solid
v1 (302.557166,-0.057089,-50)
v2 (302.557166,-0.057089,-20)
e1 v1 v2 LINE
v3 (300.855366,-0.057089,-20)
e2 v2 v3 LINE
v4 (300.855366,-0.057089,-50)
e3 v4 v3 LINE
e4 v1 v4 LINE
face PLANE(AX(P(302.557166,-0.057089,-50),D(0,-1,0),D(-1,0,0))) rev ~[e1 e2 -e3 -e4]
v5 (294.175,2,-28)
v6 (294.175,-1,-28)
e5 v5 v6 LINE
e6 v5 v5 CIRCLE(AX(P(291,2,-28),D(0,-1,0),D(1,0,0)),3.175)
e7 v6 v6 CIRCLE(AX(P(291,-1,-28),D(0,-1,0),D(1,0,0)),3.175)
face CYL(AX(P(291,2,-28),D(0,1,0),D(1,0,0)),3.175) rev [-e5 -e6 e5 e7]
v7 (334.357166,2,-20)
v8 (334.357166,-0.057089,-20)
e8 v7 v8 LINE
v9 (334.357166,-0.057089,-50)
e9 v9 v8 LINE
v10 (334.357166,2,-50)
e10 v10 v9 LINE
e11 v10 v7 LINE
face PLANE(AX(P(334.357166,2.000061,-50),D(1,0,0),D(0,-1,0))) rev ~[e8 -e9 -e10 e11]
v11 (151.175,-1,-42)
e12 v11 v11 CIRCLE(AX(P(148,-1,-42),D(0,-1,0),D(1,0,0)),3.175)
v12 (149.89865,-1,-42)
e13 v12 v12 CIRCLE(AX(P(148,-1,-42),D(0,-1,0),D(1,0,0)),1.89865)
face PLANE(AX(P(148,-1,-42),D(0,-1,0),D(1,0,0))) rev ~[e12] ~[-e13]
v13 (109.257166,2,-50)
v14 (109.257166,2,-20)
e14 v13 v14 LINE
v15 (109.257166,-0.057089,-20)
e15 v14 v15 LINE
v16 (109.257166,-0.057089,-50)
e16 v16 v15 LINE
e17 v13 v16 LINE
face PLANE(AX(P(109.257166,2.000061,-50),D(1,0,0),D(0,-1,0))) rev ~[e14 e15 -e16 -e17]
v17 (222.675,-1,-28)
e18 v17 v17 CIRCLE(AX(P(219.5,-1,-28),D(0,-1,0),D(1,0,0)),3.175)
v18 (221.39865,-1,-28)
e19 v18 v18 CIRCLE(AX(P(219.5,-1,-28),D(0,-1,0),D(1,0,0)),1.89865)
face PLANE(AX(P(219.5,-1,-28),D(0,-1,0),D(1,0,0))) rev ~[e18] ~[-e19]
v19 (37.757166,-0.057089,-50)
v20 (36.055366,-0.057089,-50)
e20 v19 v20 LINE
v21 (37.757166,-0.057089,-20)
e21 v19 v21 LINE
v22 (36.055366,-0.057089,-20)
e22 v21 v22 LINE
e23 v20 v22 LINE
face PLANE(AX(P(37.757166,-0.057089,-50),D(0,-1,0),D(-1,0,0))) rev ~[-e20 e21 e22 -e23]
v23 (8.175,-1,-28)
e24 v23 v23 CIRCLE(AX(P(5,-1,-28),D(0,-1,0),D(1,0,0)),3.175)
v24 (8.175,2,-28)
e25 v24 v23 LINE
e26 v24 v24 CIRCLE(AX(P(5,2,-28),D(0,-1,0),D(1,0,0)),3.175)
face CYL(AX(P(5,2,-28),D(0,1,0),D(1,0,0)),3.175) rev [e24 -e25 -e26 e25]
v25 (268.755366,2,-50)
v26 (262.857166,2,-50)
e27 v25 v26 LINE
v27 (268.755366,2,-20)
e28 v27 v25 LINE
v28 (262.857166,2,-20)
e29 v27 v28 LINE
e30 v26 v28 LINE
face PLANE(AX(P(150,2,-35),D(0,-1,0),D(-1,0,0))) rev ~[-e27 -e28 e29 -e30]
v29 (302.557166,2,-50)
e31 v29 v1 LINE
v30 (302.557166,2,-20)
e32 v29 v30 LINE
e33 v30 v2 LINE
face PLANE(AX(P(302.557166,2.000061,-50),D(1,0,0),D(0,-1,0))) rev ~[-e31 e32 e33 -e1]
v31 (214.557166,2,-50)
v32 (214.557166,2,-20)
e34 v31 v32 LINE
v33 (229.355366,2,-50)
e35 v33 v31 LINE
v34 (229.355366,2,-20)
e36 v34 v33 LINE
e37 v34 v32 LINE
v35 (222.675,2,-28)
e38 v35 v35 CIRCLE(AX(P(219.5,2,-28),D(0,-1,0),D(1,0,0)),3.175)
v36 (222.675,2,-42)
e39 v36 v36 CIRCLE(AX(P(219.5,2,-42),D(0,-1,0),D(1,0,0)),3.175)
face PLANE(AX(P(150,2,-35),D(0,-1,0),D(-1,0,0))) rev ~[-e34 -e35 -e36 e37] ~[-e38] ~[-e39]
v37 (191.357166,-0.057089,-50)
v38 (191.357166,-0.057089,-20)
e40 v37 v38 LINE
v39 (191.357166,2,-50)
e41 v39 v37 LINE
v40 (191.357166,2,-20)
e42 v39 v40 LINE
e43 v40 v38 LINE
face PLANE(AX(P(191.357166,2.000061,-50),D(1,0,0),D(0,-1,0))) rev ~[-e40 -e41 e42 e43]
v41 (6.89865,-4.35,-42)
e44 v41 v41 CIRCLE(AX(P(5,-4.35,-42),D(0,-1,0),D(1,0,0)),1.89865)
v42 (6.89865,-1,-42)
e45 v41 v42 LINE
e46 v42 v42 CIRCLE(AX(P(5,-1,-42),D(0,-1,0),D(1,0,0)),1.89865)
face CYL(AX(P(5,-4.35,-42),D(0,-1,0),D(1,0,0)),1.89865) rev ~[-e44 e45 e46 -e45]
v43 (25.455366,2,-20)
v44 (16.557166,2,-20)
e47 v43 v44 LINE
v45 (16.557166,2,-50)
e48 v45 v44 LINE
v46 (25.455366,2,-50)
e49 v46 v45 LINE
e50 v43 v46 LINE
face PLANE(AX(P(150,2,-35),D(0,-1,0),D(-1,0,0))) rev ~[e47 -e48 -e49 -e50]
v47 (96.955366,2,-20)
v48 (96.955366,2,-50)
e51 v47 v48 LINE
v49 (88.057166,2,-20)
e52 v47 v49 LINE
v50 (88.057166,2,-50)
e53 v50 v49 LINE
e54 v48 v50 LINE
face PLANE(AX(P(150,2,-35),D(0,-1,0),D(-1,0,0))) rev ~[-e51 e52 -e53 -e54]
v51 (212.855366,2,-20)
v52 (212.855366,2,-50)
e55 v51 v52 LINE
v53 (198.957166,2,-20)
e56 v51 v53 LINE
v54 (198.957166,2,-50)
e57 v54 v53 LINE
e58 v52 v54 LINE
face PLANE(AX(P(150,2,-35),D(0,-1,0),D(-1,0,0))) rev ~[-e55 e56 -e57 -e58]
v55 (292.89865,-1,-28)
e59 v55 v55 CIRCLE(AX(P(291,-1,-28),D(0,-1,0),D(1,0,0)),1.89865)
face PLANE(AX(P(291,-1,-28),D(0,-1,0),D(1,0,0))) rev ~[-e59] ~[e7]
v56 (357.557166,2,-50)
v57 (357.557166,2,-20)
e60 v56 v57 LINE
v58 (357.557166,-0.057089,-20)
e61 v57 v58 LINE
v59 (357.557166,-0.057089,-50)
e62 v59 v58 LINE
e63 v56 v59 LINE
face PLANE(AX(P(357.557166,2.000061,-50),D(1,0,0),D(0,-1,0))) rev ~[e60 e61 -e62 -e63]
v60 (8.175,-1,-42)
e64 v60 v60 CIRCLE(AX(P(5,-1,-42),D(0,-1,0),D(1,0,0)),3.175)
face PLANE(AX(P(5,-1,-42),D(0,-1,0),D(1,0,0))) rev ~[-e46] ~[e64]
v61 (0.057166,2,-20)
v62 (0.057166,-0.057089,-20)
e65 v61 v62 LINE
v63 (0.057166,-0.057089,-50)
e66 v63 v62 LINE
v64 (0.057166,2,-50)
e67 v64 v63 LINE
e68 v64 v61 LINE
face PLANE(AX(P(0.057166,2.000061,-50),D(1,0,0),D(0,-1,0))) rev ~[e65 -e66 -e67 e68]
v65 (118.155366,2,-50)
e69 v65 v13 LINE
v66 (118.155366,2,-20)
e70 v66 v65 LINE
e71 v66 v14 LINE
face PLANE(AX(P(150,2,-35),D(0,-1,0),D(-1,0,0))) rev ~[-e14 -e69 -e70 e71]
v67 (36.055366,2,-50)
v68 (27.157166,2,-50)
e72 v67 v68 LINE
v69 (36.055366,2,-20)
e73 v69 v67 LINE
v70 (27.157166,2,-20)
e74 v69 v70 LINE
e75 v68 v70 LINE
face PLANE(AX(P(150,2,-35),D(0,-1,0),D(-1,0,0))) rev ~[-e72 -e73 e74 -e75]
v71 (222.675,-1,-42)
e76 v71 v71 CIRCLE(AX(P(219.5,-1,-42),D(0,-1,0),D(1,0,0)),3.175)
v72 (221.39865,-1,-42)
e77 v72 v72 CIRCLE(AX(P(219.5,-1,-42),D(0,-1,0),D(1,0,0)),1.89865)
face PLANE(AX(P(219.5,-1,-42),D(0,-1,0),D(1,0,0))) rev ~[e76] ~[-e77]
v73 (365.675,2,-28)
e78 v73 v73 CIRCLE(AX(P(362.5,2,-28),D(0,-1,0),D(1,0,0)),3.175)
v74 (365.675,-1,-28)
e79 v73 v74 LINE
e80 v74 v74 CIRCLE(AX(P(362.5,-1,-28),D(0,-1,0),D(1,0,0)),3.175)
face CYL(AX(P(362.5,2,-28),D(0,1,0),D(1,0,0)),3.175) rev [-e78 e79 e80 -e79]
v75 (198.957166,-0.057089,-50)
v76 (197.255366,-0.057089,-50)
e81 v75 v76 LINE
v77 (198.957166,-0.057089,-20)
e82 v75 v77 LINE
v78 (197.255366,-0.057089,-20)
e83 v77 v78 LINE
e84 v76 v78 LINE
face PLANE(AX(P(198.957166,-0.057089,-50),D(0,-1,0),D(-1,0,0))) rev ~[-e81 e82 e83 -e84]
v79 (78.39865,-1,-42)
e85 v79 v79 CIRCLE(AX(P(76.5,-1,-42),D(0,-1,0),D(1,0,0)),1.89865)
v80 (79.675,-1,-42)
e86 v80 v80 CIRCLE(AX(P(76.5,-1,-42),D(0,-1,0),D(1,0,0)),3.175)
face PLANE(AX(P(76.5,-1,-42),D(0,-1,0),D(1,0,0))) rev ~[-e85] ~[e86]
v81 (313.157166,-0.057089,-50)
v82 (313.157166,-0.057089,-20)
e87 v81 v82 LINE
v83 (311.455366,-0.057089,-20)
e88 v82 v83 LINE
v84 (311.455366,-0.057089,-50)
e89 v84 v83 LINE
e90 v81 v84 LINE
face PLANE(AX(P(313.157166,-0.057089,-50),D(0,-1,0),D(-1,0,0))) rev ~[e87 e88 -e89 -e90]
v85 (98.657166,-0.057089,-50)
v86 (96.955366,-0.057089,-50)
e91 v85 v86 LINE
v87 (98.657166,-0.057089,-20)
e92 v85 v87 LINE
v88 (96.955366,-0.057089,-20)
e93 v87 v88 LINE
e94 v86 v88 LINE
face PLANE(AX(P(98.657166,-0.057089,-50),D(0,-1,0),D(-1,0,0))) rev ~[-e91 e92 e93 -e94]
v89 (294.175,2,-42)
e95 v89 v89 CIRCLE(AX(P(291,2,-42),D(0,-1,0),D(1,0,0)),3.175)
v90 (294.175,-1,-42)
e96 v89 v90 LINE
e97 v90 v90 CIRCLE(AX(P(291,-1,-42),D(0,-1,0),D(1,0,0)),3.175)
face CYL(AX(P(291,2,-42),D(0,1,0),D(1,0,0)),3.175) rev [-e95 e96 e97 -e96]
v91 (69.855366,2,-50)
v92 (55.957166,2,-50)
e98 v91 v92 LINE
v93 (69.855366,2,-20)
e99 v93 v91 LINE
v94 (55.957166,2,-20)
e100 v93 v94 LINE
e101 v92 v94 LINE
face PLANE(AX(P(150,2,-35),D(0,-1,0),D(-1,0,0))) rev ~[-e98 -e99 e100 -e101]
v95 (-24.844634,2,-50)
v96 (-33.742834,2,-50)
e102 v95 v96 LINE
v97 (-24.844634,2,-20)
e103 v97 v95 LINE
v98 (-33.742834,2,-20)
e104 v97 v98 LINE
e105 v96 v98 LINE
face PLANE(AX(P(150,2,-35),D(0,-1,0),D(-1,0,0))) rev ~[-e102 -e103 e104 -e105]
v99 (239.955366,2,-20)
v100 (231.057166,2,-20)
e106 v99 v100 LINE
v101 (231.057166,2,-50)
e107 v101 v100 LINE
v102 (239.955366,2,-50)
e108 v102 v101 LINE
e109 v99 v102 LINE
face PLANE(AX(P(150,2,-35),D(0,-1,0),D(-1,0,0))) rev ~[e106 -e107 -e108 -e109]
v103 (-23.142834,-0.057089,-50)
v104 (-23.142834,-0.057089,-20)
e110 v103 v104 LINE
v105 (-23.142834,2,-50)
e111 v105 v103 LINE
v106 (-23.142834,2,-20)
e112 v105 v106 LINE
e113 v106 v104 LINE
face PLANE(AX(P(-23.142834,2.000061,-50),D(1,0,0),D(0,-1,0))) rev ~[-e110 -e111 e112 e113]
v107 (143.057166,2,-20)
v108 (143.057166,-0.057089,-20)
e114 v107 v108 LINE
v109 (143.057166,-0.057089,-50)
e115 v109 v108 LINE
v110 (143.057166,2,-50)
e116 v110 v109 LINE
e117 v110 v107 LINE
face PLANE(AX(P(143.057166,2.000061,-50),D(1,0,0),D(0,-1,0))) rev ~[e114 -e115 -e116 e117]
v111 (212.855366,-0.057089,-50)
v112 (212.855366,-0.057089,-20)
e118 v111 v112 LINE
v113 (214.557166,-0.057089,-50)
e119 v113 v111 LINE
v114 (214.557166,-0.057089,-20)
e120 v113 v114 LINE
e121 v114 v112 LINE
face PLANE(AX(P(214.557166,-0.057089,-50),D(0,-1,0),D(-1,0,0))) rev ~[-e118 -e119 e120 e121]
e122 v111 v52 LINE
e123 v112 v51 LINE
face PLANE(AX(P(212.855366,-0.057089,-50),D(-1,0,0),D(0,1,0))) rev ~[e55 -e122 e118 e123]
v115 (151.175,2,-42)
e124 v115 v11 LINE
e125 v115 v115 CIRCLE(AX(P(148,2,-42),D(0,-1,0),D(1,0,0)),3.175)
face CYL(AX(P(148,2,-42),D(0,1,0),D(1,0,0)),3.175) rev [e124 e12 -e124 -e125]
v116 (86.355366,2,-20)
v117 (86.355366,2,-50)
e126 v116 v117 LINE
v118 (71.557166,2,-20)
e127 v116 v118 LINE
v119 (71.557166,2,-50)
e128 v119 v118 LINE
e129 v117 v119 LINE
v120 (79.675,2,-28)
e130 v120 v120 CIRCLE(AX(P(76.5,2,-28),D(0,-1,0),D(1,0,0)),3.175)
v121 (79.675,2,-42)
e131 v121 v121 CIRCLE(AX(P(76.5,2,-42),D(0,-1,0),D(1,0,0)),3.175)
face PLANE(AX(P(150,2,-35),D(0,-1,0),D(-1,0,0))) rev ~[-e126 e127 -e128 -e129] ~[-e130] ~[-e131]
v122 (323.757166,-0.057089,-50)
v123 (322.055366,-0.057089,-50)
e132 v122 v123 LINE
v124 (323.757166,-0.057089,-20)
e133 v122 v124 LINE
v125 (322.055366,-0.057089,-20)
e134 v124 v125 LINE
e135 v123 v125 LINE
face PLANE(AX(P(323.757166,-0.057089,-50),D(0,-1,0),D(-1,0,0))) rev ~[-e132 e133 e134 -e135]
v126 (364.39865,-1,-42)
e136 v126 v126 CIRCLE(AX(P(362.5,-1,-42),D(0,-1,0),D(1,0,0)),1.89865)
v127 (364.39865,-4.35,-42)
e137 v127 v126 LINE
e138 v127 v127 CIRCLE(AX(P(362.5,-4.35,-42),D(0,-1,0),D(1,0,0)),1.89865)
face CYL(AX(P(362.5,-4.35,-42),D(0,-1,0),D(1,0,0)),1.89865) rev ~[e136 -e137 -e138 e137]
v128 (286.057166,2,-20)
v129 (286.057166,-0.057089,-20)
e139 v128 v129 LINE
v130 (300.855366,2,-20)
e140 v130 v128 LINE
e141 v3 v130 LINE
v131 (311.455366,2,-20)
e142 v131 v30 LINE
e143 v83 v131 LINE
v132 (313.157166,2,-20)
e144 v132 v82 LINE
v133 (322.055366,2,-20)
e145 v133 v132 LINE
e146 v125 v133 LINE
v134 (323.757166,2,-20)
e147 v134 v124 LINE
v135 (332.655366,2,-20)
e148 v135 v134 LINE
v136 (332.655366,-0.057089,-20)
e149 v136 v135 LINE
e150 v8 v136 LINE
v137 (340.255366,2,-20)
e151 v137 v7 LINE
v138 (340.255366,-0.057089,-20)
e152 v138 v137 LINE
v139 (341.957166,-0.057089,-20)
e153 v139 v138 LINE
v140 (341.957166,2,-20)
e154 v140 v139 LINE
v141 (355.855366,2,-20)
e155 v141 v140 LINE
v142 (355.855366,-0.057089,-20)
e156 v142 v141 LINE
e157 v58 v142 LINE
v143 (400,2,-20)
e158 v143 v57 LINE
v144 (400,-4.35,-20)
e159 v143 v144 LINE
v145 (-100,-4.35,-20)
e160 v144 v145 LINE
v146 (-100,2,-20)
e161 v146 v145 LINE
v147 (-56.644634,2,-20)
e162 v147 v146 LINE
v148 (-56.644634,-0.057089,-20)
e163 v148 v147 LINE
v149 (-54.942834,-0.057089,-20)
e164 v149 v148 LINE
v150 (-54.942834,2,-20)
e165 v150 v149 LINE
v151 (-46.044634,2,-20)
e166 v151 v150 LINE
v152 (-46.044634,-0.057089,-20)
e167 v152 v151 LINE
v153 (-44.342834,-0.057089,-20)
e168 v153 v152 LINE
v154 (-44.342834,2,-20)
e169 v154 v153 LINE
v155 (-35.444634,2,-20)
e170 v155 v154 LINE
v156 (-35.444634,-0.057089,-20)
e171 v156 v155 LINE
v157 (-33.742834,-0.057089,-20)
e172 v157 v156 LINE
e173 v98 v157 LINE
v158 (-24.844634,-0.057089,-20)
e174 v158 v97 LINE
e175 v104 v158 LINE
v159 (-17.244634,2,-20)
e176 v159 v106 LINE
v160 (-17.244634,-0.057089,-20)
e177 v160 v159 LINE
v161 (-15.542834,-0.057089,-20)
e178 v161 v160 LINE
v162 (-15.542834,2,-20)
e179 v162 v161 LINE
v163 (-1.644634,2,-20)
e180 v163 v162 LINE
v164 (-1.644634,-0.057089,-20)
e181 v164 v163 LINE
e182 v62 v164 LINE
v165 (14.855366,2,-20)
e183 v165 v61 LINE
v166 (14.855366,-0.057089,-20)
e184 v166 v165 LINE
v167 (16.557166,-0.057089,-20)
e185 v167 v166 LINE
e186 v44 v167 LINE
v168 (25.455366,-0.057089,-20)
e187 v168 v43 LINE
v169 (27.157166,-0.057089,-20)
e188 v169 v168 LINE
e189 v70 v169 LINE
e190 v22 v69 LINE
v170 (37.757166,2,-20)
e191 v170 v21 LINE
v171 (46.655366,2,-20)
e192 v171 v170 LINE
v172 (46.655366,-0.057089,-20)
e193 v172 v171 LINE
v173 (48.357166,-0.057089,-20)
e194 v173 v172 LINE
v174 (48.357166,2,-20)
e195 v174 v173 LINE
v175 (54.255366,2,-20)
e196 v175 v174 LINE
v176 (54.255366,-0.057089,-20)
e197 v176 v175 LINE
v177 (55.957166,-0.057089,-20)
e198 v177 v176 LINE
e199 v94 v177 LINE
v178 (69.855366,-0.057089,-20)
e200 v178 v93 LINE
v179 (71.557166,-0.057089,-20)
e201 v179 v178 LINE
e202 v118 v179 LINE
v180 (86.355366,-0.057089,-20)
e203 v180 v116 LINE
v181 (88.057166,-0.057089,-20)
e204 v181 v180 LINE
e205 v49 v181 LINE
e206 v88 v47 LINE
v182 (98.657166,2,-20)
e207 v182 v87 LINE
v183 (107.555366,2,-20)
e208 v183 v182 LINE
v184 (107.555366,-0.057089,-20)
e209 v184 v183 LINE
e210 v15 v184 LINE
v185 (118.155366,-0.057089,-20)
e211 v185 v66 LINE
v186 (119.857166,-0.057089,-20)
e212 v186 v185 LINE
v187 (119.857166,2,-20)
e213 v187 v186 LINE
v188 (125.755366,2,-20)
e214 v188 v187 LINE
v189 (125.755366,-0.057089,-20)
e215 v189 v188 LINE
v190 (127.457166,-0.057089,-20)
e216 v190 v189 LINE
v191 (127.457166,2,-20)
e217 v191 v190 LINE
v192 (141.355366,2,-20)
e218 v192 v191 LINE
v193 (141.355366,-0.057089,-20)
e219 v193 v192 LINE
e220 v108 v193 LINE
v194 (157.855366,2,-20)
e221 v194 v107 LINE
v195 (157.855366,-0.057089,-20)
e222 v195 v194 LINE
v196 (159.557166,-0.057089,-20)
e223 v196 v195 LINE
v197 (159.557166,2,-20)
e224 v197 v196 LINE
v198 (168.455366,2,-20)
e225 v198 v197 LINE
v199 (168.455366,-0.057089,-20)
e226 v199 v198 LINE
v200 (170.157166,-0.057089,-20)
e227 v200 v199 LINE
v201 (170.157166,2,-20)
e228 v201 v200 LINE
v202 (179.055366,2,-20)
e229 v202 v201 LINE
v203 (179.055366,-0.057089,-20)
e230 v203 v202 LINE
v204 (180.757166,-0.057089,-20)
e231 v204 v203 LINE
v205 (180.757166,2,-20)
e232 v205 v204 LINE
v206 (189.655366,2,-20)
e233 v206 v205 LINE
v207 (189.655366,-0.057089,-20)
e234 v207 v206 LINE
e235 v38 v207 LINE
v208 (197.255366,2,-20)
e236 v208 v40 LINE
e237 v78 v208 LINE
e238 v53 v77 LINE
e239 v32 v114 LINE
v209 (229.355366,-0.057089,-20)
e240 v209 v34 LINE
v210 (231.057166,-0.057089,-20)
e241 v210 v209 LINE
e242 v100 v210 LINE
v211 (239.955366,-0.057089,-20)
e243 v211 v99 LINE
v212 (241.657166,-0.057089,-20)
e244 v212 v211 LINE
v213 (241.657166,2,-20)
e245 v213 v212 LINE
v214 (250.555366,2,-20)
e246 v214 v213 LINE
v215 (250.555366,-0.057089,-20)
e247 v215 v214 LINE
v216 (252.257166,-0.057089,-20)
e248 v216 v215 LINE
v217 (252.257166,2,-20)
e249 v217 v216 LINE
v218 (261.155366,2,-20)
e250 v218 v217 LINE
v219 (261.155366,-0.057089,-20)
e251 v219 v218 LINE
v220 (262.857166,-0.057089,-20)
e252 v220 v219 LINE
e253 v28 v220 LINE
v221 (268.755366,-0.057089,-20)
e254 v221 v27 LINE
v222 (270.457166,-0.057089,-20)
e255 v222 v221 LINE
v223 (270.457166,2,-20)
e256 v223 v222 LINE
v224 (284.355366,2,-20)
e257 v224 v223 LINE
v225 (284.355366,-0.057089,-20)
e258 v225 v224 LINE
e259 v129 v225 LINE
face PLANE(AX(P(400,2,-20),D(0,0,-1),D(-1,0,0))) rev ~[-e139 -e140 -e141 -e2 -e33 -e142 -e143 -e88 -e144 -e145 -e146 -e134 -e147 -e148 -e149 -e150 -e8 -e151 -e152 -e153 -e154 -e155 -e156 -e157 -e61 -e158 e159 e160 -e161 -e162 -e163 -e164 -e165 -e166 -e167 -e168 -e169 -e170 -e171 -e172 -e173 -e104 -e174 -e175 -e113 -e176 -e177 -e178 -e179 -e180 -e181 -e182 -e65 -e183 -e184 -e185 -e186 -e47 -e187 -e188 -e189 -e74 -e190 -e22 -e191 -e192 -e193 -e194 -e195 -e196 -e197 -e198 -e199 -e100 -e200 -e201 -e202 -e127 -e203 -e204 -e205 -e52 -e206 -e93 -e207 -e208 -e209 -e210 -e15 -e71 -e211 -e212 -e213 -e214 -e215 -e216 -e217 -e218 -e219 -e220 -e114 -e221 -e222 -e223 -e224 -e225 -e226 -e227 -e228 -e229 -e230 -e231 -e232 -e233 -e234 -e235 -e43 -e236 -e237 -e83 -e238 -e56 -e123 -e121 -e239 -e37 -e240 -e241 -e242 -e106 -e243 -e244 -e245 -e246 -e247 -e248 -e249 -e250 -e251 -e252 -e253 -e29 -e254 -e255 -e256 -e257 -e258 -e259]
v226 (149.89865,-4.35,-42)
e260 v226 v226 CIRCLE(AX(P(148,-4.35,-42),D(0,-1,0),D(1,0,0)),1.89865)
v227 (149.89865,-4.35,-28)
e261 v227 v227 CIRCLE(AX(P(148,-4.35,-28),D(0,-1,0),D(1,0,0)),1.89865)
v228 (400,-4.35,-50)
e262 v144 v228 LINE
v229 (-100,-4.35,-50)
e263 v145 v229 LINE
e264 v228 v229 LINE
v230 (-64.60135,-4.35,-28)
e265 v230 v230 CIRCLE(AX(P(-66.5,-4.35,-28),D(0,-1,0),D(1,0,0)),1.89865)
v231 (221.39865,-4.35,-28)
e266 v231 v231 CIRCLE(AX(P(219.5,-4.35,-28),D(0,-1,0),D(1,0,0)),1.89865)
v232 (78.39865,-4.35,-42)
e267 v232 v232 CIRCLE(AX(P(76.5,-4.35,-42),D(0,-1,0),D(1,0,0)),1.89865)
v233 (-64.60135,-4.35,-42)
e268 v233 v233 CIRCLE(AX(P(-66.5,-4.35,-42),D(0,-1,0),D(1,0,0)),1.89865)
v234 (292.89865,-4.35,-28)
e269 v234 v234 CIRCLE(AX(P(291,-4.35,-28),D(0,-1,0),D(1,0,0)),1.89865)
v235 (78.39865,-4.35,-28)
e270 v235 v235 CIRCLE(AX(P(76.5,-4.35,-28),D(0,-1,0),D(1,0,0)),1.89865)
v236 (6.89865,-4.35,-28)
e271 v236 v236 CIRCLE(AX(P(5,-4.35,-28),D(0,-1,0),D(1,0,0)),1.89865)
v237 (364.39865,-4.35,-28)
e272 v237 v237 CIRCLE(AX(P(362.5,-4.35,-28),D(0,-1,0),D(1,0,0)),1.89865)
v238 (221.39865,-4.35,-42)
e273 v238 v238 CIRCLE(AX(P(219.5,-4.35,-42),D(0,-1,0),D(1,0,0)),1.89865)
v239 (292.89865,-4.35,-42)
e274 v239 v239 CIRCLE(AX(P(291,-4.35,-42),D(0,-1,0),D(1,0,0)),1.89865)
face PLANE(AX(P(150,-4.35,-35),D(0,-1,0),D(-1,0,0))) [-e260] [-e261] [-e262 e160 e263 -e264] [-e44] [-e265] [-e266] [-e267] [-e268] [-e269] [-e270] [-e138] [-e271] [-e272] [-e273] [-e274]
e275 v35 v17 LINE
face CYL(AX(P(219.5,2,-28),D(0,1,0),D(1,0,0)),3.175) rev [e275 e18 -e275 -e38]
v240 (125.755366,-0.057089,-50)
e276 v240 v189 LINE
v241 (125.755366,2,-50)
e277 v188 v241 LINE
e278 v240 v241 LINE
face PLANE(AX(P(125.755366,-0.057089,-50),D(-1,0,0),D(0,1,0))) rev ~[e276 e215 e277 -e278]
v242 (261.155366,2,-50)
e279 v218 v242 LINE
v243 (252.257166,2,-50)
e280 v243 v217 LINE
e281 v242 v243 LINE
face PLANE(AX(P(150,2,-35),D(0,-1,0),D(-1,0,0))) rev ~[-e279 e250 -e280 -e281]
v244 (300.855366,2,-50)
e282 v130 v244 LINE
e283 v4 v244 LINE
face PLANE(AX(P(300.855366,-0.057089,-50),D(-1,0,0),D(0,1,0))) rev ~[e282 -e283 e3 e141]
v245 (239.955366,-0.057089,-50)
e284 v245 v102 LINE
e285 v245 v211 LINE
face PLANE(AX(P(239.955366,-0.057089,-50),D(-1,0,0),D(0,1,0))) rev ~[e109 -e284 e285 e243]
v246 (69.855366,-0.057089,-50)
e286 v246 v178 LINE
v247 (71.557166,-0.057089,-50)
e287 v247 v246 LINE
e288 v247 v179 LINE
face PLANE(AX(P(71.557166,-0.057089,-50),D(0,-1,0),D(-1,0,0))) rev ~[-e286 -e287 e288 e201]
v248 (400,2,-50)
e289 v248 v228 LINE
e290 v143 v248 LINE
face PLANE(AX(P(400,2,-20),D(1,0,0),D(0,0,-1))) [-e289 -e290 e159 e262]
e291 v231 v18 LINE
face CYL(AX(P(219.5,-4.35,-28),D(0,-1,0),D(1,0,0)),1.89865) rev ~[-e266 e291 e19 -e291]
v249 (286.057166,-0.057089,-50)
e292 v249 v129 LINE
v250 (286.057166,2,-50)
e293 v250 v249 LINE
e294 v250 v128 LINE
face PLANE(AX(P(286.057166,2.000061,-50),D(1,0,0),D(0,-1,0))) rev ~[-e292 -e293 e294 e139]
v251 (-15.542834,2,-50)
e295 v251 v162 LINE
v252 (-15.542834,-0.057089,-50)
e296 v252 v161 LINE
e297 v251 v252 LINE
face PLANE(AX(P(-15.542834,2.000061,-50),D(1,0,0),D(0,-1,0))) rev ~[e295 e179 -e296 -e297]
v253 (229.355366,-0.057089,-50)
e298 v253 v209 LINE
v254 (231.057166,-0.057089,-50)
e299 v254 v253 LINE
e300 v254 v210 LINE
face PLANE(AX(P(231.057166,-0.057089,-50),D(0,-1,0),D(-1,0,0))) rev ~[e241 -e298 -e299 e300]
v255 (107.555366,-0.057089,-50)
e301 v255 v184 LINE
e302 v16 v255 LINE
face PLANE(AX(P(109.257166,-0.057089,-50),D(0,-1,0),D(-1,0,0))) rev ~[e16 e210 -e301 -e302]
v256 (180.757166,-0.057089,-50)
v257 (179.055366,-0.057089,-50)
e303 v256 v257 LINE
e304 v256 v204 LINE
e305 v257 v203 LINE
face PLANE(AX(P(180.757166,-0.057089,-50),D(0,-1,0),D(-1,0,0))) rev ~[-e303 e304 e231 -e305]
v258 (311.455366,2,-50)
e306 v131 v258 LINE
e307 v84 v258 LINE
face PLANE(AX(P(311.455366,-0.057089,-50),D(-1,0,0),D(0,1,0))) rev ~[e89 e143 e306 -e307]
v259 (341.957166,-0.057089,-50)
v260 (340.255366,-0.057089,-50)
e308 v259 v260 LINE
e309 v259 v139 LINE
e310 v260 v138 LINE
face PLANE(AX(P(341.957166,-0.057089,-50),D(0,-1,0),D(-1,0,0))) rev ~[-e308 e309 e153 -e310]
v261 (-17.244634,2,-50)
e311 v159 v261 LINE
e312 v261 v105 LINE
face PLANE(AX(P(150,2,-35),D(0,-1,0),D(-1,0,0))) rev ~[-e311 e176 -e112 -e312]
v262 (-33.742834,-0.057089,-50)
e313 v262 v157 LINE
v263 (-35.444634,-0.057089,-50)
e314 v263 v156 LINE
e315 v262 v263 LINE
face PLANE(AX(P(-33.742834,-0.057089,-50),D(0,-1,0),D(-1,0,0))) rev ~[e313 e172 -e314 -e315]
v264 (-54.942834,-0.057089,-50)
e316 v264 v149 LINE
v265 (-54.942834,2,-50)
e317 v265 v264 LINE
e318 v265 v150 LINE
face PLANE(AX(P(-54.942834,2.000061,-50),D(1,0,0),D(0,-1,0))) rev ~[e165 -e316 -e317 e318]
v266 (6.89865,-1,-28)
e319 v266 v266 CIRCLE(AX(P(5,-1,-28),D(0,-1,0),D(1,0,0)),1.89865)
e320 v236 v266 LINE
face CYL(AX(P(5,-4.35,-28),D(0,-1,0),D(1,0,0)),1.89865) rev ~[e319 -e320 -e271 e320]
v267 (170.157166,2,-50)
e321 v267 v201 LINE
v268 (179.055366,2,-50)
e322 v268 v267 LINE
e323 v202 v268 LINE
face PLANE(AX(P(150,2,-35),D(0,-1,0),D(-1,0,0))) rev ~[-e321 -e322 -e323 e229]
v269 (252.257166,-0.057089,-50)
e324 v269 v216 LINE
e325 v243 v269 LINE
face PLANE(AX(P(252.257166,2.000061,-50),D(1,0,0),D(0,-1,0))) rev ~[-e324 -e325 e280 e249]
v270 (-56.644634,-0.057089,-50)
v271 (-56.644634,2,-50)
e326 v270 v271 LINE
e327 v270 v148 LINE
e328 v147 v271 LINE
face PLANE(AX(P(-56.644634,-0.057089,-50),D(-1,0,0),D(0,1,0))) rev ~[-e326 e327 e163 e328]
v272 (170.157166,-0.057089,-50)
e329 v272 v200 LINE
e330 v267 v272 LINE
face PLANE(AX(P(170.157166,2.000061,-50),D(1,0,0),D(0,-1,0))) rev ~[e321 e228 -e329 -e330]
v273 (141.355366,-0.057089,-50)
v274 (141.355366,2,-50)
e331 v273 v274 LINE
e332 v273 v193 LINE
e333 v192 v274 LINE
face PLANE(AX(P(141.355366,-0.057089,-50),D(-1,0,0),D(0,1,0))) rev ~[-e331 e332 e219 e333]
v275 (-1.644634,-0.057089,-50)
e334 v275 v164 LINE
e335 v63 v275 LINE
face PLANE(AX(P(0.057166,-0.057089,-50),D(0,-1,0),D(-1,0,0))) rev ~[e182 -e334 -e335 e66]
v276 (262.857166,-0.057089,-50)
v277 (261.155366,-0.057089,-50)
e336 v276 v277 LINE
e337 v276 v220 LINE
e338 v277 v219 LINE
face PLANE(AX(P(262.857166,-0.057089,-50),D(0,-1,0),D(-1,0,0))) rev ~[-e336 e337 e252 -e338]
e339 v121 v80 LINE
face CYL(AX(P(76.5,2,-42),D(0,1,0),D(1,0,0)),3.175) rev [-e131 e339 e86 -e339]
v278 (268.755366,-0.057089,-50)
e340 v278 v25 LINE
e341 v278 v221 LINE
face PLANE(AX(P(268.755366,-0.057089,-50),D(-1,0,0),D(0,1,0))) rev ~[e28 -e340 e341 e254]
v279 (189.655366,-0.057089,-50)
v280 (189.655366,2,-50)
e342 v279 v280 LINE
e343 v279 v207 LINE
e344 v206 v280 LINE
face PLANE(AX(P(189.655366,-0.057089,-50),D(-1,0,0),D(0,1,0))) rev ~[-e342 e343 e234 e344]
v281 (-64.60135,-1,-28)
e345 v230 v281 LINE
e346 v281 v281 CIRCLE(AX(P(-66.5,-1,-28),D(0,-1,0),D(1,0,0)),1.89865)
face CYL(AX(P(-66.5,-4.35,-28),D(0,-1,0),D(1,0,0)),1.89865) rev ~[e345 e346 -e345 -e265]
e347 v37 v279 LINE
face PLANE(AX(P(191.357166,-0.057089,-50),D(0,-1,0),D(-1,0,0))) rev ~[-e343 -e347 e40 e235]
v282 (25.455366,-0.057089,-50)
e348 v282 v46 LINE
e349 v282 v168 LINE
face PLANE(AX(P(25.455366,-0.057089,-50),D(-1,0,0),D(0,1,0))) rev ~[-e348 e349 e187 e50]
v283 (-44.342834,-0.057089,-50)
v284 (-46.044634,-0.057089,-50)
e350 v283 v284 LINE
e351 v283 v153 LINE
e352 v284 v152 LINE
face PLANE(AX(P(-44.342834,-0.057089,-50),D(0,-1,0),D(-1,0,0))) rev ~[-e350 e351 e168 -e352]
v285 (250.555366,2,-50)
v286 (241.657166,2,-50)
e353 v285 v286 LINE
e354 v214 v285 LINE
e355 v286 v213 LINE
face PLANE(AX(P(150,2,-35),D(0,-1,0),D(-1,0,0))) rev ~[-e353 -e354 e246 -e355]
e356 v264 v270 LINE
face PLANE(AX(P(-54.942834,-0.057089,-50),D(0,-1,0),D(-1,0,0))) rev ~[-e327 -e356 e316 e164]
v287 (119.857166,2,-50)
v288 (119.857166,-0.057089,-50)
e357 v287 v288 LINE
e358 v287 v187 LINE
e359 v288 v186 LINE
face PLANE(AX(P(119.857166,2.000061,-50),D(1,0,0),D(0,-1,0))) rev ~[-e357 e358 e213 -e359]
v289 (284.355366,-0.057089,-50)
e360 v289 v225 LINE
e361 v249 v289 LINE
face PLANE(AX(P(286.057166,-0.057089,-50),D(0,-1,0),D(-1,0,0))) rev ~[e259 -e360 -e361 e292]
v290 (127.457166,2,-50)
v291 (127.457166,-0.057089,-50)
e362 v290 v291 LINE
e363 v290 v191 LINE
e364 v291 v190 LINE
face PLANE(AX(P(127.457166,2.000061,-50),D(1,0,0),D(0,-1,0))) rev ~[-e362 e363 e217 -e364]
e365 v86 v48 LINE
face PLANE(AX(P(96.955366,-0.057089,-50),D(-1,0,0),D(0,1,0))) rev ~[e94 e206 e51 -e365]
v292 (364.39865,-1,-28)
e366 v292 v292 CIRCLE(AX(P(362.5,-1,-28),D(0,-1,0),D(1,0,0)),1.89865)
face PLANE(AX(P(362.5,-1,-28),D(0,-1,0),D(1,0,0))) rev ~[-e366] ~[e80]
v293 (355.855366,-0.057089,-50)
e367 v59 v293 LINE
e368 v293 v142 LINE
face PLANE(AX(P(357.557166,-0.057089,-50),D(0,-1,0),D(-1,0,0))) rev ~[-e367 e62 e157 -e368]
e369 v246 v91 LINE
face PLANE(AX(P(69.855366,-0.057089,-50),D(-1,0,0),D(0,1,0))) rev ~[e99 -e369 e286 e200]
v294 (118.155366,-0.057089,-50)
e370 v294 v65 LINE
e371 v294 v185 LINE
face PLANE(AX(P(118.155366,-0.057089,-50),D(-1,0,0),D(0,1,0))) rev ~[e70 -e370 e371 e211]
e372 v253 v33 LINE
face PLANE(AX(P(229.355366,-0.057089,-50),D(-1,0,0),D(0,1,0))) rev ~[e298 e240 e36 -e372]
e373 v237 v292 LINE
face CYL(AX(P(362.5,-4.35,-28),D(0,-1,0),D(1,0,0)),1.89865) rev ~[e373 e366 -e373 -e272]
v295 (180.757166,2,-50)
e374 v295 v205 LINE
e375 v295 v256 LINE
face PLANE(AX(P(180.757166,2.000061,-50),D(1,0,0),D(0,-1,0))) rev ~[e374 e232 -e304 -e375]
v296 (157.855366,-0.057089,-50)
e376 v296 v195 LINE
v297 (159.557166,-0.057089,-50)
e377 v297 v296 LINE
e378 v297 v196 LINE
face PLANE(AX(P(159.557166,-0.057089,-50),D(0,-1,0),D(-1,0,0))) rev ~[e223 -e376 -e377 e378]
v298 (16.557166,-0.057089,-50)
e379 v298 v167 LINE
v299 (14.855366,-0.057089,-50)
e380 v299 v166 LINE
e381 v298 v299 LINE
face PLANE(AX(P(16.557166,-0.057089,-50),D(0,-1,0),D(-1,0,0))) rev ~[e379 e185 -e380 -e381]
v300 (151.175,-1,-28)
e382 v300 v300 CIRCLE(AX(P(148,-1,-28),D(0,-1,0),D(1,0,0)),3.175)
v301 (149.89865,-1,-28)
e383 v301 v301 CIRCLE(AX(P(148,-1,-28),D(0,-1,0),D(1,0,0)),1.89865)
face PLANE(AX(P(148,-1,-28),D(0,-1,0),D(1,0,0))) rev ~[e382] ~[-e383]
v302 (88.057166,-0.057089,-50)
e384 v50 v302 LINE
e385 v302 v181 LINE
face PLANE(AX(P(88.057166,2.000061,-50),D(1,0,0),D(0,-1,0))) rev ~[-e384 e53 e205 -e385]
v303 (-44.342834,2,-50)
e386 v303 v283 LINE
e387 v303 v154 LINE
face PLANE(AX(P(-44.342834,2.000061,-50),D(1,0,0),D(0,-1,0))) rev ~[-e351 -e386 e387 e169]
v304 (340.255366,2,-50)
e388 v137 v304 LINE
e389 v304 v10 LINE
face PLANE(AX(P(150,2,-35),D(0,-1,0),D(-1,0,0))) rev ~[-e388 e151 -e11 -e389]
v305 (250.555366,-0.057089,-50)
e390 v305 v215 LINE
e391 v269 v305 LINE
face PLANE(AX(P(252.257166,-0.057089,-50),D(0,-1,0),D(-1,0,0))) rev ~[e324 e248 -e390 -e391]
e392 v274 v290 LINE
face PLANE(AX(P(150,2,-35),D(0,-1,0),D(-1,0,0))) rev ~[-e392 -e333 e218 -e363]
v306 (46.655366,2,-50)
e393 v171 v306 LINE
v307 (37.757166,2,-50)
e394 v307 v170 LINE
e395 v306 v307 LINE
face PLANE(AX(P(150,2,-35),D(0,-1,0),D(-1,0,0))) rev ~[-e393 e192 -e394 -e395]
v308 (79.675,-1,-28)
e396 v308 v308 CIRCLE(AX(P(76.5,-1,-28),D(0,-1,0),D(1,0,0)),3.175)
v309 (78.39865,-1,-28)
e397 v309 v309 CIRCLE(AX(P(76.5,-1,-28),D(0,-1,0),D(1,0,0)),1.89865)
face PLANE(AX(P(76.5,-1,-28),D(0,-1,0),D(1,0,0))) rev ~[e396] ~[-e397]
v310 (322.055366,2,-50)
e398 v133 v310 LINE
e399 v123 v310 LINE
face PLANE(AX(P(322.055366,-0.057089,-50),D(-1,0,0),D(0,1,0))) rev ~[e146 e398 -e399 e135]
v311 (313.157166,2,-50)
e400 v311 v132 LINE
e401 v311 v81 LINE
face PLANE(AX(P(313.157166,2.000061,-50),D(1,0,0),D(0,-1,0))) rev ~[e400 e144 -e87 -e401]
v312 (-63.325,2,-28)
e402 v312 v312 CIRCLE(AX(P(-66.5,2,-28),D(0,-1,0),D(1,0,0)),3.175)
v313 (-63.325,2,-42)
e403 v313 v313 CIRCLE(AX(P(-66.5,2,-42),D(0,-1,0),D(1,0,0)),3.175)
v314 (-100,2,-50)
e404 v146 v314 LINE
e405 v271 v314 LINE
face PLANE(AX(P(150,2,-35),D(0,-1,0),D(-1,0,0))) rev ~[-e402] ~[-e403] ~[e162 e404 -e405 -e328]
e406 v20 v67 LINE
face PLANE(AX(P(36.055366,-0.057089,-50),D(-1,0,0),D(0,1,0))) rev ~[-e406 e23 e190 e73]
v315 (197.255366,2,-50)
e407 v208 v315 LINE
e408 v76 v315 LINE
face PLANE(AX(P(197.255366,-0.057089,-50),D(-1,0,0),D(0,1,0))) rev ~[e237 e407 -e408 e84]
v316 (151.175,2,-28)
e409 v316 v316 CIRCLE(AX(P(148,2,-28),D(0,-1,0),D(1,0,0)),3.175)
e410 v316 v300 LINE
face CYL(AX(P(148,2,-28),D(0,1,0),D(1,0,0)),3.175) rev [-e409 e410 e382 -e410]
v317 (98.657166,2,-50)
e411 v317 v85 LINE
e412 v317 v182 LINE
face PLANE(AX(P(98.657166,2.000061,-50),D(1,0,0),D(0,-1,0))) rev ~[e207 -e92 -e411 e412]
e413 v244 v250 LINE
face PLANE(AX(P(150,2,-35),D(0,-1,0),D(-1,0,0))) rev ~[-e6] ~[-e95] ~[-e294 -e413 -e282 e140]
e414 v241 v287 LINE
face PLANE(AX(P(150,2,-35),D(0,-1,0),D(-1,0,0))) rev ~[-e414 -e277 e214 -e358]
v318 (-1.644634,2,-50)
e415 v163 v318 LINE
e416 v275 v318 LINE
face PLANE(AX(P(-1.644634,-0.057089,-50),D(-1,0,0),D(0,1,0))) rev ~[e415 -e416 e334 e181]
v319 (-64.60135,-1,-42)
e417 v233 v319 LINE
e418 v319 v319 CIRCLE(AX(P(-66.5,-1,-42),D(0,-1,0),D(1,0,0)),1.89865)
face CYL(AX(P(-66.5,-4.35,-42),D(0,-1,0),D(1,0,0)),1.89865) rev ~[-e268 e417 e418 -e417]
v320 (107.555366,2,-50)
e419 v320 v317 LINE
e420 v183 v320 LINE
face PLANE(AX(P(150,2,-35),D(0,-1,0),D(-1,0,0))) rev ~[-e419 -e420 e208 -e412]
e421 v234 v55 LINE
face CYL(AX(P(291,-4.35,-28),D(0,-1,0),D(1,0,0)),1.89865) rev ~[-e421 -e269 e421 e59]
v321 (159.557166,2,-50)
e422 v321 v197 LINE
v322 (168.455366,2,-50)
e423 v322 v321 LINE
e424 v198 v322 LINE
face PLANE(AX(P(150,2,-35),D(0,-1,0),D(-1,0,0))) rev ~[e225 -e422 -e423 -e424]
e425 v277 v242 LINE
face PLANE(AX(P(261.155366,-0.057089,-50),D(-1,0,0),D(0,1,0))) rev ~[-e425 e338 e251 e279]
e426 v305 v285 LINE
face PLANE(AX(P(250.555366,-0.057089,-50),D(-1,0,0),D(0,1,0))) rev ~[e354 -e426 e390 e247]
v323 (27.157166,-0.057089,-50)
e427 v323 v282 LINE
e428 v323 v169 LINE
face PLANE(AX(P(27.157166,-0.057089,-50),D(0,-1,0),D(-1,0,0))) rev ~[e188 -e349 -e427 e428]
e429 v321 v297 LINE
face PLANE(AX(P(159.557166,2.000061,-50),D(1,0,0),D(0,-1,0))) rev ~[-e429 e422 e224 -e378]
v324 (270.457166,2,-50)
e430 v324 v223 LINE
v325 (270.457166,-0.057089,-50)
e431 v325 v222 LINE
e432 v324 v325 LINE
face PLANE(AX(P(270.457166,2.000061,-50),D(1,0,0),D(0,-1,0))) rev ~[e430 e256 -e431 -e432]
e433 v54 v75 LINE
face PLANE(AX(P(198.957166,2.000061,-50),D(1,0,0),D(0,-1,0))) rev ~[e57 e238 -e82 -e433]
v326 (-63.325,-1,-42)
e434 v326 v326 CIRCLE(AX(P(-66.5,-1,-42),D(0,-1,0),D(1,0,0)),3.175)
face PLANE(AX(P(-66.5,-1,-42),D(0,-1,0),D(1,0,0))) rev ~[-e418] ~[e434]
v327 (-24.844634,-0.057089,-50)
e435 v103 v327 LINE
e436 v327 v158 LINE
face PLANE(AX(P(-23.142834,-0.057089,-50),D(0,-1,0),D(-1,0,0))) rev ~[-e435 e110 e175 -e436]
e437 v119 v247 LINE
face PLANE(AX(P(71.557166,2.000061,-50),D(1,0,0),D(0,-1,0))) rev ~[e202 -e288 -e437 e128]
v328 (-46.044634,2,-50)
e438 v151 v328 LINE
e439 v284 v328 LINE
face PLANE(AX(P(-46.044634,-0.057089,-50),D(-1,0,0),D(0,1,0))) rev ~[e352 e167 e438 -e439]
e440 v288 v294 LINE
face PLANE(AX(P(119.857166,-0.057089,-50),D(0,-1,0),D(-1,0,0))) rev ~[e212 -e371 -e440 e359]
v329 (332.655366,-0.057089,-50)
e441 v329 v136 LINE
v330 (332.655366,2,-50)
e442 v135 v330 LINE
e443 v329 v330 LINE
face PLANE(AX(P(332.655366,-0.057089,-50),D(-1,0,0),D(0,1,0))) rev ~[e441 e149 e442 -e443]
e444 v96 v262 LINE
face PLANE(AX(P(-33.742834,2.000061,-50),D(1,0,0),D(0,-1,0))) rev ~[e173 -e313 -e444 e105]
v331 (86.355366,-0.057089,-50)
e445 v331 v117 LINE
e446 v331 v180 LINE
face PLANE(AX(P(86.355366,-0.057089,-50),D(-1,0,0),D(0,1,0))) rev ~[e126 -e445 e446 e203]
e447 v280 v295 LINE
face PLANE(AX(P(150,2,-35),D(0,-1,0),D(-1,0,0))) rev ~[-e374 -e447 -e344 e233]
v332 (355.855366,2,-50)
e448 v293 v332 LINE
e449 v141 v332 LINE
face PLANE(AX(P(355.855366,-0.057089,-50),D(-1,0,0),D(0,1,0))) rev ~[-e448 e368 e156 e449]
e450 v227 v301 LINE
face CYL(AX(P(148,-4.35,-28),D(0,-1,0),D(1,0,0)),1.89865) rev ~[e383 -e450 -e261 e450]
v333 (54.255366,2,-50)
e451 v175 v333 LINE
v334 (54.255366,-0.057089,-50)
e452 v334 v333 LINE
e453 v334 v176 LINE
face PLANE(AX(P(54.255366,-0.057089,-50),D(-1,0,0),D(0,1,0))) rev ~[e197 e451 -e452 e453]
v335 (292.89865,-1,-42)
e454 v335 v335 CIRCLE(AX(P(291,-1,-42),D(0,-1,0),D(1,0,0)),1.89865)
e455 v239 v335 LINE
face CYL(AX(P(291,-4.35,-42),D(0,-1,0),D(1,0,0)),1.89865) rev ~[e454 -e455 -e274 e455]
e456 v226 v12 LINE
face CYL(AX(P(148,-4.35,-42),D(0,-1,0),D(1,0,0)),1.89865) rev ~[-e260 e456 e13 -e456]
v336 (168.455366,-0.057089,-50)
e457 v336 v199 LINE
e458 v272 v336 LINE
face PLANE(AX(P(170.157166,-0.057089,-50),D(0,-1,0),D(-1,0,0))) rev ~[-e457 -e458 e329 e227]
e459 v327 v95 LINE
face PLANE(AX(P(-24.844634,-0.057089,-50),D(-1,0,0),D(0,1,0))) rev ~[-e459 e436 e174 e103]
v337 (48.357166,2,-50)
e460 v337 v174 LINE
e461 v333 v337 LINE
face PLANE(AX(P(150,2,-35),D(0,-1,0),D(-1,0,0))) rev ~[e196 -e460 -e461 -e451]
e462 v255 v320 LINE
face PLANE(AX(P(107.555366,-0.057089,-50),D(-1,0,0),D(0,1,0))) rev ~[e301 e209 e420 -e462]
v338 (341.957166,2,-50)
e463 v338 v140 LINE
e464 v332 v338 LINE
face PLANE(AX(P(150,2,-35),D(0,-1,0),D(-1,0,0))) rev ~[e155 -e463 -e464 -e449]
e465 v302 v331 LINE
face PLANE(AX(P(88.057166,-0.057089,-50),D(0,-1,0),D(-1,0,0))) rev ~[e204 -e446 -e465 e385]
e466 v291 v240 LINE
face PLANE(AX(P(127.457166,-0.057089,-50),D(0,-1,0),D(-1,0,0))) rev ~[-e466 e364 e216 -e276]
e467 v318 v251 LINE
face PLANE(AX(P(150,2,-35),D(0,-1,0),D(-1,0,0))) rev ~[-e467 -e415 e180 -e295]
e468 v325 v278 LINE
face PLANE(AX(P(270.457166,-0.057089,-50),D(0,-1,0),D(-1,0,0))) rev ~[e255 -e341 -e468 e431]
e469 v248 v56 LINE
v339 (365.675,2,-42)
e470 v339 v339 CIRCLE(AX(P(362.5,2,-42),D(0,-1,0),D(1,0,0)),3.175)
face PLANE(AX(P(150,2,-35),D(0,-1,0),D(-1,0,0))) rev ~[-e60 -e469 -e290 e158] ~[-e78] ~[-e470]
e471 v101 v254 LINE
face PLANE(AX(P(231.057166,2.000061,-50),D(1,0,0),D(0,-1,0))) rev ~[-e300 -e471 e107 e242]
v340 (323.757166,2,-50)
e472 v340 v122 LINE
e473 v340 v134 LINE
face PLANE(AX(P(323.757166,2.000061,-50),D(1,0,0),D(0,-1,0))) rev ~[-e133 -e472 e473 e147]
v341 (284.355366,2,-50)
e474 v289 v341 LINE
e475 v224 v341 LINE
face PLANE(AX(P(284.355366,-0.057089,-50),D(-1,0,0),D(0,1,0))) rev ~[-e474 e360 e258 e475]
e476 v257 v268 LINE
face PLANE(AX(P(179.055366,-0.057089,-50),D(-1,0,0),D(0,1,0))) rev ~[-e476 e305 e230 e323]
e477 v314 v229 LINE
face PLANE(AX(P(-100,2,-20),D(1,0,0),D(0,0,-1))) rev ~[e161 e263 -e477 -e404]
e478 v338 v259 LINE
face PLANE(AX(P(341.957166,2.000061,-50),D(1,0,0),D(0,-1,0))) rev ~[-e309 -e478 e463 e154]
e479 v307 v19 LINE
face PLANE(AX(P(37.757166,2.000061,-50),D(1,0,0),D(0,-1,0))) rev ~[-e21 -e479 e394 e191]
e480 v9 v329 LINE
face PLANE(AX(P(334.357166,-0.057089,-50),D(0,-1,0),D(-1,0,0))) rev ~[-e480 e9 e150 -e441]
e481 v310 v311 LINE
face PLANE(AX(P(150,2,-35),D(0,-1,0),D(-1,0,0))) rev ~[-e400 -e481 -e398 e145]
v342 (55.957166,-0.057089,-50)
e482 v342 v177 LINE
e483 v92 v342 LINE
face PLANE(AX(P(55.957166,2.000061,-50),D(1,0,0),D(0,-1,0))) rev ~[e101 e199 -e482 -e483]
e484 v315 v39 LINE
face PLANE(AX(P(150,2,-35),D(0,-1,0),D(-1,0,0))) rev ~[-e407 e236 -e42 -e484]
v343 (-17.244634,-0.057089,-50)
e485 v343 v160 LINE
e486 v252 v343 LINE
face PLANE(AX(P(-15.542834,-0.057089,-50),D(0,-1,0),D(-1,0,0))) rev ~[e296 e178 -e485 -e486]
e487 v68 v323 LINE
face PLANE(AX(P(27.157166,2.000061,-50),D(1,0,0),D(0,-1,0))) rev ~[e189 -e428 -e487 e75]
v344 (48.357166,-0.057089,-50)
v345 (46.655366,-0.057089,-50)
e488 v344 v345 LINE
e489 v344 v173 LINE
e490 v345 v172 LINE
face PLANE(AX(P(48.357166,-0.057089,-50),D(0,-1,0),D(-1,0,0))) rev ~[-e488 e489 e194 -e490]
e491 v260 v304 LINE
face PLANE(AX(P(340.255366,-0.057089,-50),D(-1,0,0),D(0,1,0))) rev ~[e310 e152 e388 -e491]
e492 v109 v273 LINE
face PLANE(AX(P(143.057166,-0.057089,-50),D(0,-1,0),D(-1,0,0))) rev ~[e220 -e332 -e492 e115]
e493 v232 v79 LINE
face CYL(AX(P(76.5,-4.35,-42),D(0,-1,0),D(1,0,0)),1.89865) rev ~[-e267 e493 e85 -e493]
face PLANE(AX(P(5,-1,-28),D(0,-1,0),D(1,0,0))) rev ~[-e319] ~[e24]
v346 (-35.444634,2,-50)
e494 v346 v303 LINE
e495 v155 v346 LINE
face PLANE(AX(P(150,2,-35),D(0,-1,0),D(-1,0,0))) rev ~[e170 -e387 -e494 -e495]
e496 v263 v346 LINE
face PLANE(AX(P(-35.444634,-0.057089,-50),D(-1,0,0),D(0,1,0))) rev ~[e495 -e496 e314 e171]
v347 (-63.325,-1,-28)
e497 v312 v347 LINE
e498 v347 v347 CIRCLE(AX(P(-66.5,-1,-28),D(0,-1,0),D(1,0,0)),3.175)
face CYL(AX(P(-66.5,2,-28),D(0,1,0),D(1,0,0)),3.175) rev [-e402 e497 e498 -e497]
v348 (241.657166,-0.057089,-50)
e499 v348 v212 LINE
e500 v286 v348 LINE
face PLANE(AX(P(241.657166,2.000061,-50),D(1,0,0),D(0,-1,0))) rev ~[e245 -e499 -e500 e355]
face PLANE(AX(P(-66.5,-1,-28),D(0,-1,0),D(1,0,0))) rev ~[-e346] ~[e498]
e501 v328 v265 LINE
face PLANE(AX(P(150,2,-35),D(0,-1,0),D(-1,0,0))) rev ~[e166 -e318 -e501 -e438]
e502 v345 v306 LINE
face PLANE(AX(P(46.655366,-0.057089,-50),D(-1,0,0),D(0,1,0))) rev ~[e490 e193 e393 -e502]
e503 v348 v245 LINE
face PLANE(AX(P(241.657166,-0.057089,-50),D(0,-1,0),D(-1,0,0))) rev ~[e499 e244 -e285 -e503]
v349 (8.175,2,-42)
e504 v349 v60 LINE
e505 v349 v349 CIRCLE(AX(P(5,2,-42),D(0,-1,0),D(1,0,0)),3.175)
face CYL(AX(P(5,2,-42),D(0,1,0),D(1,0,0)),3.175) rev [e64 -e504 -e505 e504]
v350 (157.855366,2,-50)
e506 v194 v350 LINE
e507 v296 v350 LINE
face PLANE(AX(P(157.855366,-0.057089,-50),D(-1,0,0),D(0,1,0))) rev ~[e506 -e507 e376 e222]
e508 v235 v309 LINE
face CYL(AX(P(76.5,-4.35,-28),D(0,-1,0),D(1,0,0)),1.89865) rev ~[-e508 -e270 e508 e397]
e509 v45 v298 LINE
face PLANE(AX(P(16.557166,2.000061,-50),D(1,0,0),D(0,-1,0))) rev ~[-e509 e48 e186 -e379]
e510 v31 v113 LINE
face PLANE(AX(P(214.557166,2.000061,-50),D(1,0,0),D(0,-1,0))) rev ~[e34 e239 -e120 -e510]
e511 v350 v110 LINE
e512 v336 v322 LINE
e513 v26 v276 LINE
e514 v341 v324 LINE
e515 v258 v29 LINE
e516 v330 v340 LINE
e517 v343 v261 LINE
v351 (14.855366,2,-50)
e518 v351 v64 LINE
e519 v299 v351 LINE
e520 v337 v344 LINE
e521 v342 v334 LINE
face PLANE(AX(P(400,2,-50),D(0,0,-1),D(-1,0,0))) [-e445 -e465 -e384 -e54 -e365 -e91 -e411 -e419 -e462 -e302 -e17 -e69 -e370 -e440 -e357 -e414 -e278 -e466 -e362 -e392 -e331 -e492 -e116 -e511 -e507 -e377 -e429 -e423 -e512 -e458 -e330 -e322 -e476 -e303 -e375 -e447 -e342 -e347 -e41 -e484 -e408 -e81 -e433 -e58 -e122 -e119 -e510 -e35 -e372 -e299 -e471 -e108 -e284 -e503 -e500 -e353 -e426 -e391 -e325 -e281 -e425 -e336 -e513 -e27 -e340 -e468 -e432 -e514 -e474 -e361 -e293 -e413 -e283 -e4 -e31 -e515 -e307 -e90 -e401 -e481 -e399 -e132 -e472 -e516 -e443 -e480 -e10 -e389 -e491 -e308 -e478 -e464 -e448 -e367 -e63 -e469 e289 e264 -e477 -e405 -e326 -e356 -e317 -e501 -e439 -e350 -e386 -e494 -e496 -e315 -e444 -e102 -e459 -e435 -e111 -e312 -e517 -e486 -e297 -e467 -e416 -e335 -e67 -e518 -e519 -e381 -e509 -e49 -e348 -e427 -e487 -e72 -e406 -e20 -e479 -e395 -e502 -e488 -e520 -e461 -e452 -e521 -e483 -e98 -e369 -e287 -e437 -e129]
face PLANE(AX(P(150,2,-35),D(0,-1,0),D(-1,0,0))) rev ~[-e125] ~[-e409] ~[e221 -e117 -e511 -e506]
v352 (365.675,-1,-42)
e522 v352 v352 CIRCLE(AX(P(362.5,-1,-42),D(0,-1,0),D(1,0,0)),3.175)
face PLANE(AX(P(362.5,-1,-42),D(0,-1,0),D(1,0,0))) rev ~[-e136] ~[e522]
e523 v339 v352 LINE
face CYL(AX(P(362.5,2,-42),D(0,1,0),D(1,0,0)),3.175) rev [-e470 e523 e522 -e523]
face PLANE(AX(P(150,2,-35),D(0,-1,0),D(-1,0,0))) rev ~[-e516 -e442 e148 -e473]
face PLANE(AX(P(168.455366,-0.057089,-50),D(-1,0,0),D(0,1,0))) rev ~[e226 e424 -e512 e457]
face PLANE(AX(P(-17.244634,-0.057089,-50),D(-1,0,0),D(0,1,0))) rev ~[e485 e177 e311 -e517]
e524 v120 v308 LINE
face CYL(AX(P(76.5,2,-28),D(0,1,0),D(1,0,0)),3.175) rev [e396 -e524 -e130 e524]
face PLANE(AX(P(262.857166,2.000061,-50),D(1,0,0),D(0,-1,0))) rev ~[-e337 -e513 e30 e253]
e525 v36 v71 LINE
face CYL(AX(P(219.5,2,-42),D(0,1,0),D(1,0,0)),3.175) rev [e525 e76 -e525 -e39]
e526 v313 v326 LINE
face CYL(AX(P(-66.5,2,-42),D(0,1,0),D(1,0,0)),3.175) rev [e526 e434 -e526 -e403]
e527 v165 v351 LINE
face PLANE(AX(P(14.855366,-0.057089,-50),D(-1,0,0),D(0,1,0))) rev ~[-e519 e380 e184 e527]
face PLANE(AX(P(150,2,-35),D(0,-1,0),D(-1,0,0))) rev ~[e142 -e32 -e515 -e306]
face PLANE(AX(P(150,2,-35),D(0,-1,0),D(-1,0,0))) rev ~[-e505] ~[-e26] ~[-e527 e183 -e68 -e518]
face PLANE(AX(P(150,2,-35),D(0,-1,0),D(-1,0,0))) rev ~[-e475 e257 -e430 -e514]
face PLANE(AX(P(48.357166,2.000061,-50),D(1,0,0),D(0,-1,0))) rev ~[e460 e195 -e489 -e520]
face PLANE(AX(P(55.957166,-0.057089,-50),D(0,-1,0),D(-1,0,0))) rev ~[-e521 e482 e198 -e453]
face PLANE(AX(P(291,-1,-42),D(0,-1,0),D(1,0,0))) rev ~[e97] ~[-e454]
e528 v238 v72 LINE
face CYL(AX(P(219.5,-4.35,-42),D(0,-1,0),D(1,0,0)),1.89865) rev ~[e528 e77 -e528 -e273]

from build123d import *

# Parameters (mm, degrees)
SKETCH1_W           = 500
SKETCH1_H           = 30
BOSS_EXTRUDE1_DEPTH = 6.35
SKETCH2_R           = 3.175
CUT_EXTRUDE1_DEPTH  = 3
CUT_EXTRUDE2_DEPTH  = 402.147008589
SKETCH6_R           = 1.89865
CUT_EXTRUDE3_DEPTH  = 404.162898219


with BuildPart() as part:
    # Sketch1 → Boss-Extrude1 (new body)
    with BuildSketch(Plane(origin=(0, 2, 0), x_dir=(-1, 0, 0), z_dir=(0, -1, 0))):
        with Locations((-150, 35)):
            Rectangle(SKETCH1_W, SKETCH1_H)
    extrude(amount=BOSS_EXTRUDE1_DEPTH)

    # Sketch2 → Cut-Extrude1 (cut)
    with BuildSketch(Plane.XZ.offset(-2)):
        with Locations((5, -28)):
            Circle(SKETCH2_R)
        with Locations((-66.5, -42)):
            Circle(SKETCH2_R)
        with Locations((-66.5, -28)):
            Circle(SKETCH2_R)
        with Locations((5, -42)):
            Circle(SKETCH2_R)
        with Locations((76.5, -28)):
            Circle(SKETCH2_R)
        with Locations((76.5, -42)):
            Circle(SKETCH2_R)
        with Locations((148, -28)):
            Circle(SKETCH2_R)
        with Locations((148, -42)):
            Circle(SKETCH2_R)
        with Locations((219.5, -28)):
            Circle(SKETCH2_R)
        with Locations((219.5, -42)):
            Circle(SKETCH2_R)
        with Locations((291, -28)):
            Circle(SKETCH2_R)
        with Locations((291, -42)):
            Circle(SKETCH2_R)
        with Locations((362.5, -28)):
            Circle(SKETCH2_R)
        with Locations((362.5, -42)):
            Circle(SKETCH2_R)
    extrude(amount=CUT_EXTRUDE1_DEPTH, mode=Mode.SUBTRACT)

    # Sketch5 → Cut-Extrude2 (cut, through all)
    with BuildSketch(Plane(origin=(0, 0, -50), x_dir=(-1, 0, 0), z_dir=(0, 0, -1))):
        Polygon((-1.574705718, 2.00006084), (-0.057166038, 2.00006084), (-0.057166038, -0.05708916), (1.644633962, -0.05708916), (1.644633962, 2.00006084), (15.542833962, 2.00006084), (15.542833962, -0.05708916), (17.244633962, -0.05708916), (17.244633962, 2.00006084), (23.142833962, 2.00006084), (23.142833962, -0.05708916), (24.844633962, -0.05708916), (24.844633962, 2.00006084), (33.742833962, 2.00006084), (33.742833962, -0.05708916), (35.444633962, -0.05708916), (35.444633962, 2.00006084), (44.342833962, 2.00006084), (44.342833962, -0.05708916), (46.044633962, -0.05708916), (46.044633962, 2.00006084), (54.942833962, 2.00006084), (54.942833962, -0.05708916), (56.644633962, -0.05708916), (56.644633962, 2.00006084), (61.710485811, 2.00006084), (61.710485811, 3.366834616), (-1.574705718, 3.366834616), align=None)
        Polygon((-73.074705718, 2.00006084), (-71.557166038, 2.00006084), (-71.557166038, -0.05708916), (-69.855366038, -0.05708916), (-69.855366038, 2.00006084), (-55.957166038, 2.00006084), (-55.957166038, -0.05708916), (-54.255366038, -0.05708916), (-54.255366038, 2.00006084), (-48.357166038, 2.00006084), (-48.357166038, -0.05708916), (-46.655366038, -0.05708916), (-46.655366038, 2.00006084), (-37.757166038, 2.00006084), (-37.757166038, -0.05708916), (-36.055366038, -0.05708916), (-36.055366038, 2.00006084), (-27.157166038, 2.00006084), (-27.157166038, -0.05708916), (-25.455366038, -0.05708916), (-25.455366038, 2.00006084), (-16.557166038, 2.00006084), (-16.557166038, -0.05708916), (-14.855366038, -0.05708916), (-14.855366038, 2.00006084), (-9.789514189, 2.00006084), (-9.789514189, 3.366834616), (-73.074705718, 3.366834616), align=None)
        Polygon((-144.574705718, 2.00006084), (-143.057166038, 2.00006084), (-143.057166038, -0.05708916), (-141.355366038, -0.05708916), (-141.355366038, 2.00006084), (-127.457166038, 2.00006084), (-127.457166038, -0.05708916), (-125.755366038, -0.05708916), (-125.755366038, 2.00006084), (-119.857166038, 2.00006084), (-119.857166038, -0.05708916), (-118.155366038, -0.05708916), (-118.155366038, 2.00006084), (-109.257166038, 2.00006084), (-109.257166038, -0.05708916), (-107.555366038, -0.05708916), (-107.555366038, 2.00006084), (-98.657166038, 2.00006084), (-98.657166038, -0.05708916), (-96.955366038, -0.05708916), (-96.955366038, 2.00006084), (-88.057166038, 2.00006084), (-88.057166038, -0.05708916), (-86.355366038, -0.05708916), (-86.355366038, 2.00006084), (-81.289514189, 2.00006084), (-81.289514189, 3.366834616), (-144.574705718, 3.366834616), align=None)
        Polygon((-216.074705718, 2.00006084), (-214.557166038, 2.00006084), (-214.557166038, -0.05708916), (-212.855366038, -0.05708916), (-212.855366038, 2.00006084), (-198.957166038, 2.00006084), (-198.957166038, -0.05708916), (-197.255366038, -0.05708916), (-197.255366038, 2.00006084), (-191.357166038, 2.00006084), (-191.357166038, -0.05708916), (-189.655366038, -0.05708916), (-189.655366038, 2.00006084), (-180.757166038, 2.00006084), (-180.757166038, -0.05708916), (-179.055366038, -0.05708916), (-179.055366038, 2.00006084), (-170.157166038, 2.00006084), (-170.157166038, -0.05708916), (-168.455366038, -0.05708916), (-168.455366038, 2.00006084), (-159.557166038, 2.00006084), (-159.557166038, -0.05708916), (-157.855366038, -0.05708916), (-157.855366038, 2.00006084), (-152.789514189, 2.00006084), (-152.789514189, 3.366834616), (-216.074705718, 3.366834616), align=None)
        Polygon((-287.574705718, 2.00006084), (-286.057166038, 2.00006084), (-286.057166038, -0.05708916), (-284.355366038, -0.05708916), (-284.355366038, 2.00006084), (-270.457166038, 2.00006084), (-270.457166038, -0.05708916), (-268.755366038, -0.05708916), (-268.755366038, 2.00006084), (-262.857166038, 2.00006084), (-262.857166038, -0.05708916), (-261.155366038, -0.05708916), (-261.155366038, 2.00006084), (-252.257166038, 2.00006084), (-252.257166038, -0.05708916), (-250.555366038, -0.05708916), (-250.555366038, 2.00006084), (-241.657166038, 2.00006084), (-241.657166038, -0.05708916), (-239.955366038, -0.05708916), (-239.955366038, 2.00006084), (-231.057166038, 2.00006084), (-231.057166038, -0.05708916), (-229.355366038, -0.05708916), (-229.355366038, 2.00006084), (-224.289514189, 2.00006084), (-224.289514189, 3.366834616), (-287.574705718, 3.366834616), align=None)
        Polygon((-359.074705718, 2.00006084), (-357.557166038, 2.00006084), (-357.557166038, -0.05708916), (-355.855366038, -0.05708916), (-355.855366038, 2.00006084), (-341.957166038, 2.00006084), (-341.957166038, -0.05708916), (-340.255366038, -0.05708916), (-340.255366038, 2.00006084), (-334.357166038, 2.00006084), (-334.357166038, -0.05708916), (-332.655366038, -0.05708916), (-332.655366038, 2.00006084), (-323.757166038, 2.00006084), (-323.757166038, -0.05708916), (-322.055366038, -0.05708916), (-322.055366038, 2.00006084), (-313.157166038, 2.00006084), (-313.157166038, -0.05708916), (-311.455366038, -0.05708916), (-311.455366038, 2.00006084), (-302.557166038, 2.00006084), (-302.557166038, -0.05708916), (-300.855366038, -0.05708916), (-300.855366038, 2.00006084), (-295.789514189, 2.00006084), (-295.789514189, 3.366834616), (-359.074705718, 3.366834616), align=None)
    extrude(amount=-CUT_EXTRUDE2_DEPTH, mode=Mode.SUBTRACT)

    # Sketch6 → Cut-Extrude3 (cut, through all)
    with BuildSketch(Plane.XZ.offset(4.35)):
        with Locations((-66.5, -42)):
            Circle(SKETCH6_R)
        with Locations((-66.5, -28)):
            Circle(SKETCH6_R)
        with Locations((5, -42)):
            Circle(SKETCH6_R)
        with Locations((5, -28)):
            Circle(SKETCH6_R)
        with Locations((76.5, -42)):
            Circle(SKETCH6_R)
        with Locations((76.5, -28)):
            Circle(SKETCH6_R)
        with Locations((148, -42)):
            Circle(SKETCH6_R)
        with Locations((148, -28)):
            Circle(SKETCH6_R)
        with Locations((219.5, -42)):
            Circle(SKETCH6_R)
        with Locations((219.5, -28)):
            Circle(SKETCH6_R)
        with Locations((291, -42)):
            Circle(SKETCH6_R)
        with Locations((291, -28)):
            Circle(SKETCH6_R)
        with Locations((362.5, -42)):
            Circle(SKETCH6_R)
        with Locations((362.5, -28)):
            Circle(SKETCH6_R)
    extrude(amount=-CUT_EXTRUDE3_DEPTH, mode=Mode.SUBTRACT)


solid = part.part
